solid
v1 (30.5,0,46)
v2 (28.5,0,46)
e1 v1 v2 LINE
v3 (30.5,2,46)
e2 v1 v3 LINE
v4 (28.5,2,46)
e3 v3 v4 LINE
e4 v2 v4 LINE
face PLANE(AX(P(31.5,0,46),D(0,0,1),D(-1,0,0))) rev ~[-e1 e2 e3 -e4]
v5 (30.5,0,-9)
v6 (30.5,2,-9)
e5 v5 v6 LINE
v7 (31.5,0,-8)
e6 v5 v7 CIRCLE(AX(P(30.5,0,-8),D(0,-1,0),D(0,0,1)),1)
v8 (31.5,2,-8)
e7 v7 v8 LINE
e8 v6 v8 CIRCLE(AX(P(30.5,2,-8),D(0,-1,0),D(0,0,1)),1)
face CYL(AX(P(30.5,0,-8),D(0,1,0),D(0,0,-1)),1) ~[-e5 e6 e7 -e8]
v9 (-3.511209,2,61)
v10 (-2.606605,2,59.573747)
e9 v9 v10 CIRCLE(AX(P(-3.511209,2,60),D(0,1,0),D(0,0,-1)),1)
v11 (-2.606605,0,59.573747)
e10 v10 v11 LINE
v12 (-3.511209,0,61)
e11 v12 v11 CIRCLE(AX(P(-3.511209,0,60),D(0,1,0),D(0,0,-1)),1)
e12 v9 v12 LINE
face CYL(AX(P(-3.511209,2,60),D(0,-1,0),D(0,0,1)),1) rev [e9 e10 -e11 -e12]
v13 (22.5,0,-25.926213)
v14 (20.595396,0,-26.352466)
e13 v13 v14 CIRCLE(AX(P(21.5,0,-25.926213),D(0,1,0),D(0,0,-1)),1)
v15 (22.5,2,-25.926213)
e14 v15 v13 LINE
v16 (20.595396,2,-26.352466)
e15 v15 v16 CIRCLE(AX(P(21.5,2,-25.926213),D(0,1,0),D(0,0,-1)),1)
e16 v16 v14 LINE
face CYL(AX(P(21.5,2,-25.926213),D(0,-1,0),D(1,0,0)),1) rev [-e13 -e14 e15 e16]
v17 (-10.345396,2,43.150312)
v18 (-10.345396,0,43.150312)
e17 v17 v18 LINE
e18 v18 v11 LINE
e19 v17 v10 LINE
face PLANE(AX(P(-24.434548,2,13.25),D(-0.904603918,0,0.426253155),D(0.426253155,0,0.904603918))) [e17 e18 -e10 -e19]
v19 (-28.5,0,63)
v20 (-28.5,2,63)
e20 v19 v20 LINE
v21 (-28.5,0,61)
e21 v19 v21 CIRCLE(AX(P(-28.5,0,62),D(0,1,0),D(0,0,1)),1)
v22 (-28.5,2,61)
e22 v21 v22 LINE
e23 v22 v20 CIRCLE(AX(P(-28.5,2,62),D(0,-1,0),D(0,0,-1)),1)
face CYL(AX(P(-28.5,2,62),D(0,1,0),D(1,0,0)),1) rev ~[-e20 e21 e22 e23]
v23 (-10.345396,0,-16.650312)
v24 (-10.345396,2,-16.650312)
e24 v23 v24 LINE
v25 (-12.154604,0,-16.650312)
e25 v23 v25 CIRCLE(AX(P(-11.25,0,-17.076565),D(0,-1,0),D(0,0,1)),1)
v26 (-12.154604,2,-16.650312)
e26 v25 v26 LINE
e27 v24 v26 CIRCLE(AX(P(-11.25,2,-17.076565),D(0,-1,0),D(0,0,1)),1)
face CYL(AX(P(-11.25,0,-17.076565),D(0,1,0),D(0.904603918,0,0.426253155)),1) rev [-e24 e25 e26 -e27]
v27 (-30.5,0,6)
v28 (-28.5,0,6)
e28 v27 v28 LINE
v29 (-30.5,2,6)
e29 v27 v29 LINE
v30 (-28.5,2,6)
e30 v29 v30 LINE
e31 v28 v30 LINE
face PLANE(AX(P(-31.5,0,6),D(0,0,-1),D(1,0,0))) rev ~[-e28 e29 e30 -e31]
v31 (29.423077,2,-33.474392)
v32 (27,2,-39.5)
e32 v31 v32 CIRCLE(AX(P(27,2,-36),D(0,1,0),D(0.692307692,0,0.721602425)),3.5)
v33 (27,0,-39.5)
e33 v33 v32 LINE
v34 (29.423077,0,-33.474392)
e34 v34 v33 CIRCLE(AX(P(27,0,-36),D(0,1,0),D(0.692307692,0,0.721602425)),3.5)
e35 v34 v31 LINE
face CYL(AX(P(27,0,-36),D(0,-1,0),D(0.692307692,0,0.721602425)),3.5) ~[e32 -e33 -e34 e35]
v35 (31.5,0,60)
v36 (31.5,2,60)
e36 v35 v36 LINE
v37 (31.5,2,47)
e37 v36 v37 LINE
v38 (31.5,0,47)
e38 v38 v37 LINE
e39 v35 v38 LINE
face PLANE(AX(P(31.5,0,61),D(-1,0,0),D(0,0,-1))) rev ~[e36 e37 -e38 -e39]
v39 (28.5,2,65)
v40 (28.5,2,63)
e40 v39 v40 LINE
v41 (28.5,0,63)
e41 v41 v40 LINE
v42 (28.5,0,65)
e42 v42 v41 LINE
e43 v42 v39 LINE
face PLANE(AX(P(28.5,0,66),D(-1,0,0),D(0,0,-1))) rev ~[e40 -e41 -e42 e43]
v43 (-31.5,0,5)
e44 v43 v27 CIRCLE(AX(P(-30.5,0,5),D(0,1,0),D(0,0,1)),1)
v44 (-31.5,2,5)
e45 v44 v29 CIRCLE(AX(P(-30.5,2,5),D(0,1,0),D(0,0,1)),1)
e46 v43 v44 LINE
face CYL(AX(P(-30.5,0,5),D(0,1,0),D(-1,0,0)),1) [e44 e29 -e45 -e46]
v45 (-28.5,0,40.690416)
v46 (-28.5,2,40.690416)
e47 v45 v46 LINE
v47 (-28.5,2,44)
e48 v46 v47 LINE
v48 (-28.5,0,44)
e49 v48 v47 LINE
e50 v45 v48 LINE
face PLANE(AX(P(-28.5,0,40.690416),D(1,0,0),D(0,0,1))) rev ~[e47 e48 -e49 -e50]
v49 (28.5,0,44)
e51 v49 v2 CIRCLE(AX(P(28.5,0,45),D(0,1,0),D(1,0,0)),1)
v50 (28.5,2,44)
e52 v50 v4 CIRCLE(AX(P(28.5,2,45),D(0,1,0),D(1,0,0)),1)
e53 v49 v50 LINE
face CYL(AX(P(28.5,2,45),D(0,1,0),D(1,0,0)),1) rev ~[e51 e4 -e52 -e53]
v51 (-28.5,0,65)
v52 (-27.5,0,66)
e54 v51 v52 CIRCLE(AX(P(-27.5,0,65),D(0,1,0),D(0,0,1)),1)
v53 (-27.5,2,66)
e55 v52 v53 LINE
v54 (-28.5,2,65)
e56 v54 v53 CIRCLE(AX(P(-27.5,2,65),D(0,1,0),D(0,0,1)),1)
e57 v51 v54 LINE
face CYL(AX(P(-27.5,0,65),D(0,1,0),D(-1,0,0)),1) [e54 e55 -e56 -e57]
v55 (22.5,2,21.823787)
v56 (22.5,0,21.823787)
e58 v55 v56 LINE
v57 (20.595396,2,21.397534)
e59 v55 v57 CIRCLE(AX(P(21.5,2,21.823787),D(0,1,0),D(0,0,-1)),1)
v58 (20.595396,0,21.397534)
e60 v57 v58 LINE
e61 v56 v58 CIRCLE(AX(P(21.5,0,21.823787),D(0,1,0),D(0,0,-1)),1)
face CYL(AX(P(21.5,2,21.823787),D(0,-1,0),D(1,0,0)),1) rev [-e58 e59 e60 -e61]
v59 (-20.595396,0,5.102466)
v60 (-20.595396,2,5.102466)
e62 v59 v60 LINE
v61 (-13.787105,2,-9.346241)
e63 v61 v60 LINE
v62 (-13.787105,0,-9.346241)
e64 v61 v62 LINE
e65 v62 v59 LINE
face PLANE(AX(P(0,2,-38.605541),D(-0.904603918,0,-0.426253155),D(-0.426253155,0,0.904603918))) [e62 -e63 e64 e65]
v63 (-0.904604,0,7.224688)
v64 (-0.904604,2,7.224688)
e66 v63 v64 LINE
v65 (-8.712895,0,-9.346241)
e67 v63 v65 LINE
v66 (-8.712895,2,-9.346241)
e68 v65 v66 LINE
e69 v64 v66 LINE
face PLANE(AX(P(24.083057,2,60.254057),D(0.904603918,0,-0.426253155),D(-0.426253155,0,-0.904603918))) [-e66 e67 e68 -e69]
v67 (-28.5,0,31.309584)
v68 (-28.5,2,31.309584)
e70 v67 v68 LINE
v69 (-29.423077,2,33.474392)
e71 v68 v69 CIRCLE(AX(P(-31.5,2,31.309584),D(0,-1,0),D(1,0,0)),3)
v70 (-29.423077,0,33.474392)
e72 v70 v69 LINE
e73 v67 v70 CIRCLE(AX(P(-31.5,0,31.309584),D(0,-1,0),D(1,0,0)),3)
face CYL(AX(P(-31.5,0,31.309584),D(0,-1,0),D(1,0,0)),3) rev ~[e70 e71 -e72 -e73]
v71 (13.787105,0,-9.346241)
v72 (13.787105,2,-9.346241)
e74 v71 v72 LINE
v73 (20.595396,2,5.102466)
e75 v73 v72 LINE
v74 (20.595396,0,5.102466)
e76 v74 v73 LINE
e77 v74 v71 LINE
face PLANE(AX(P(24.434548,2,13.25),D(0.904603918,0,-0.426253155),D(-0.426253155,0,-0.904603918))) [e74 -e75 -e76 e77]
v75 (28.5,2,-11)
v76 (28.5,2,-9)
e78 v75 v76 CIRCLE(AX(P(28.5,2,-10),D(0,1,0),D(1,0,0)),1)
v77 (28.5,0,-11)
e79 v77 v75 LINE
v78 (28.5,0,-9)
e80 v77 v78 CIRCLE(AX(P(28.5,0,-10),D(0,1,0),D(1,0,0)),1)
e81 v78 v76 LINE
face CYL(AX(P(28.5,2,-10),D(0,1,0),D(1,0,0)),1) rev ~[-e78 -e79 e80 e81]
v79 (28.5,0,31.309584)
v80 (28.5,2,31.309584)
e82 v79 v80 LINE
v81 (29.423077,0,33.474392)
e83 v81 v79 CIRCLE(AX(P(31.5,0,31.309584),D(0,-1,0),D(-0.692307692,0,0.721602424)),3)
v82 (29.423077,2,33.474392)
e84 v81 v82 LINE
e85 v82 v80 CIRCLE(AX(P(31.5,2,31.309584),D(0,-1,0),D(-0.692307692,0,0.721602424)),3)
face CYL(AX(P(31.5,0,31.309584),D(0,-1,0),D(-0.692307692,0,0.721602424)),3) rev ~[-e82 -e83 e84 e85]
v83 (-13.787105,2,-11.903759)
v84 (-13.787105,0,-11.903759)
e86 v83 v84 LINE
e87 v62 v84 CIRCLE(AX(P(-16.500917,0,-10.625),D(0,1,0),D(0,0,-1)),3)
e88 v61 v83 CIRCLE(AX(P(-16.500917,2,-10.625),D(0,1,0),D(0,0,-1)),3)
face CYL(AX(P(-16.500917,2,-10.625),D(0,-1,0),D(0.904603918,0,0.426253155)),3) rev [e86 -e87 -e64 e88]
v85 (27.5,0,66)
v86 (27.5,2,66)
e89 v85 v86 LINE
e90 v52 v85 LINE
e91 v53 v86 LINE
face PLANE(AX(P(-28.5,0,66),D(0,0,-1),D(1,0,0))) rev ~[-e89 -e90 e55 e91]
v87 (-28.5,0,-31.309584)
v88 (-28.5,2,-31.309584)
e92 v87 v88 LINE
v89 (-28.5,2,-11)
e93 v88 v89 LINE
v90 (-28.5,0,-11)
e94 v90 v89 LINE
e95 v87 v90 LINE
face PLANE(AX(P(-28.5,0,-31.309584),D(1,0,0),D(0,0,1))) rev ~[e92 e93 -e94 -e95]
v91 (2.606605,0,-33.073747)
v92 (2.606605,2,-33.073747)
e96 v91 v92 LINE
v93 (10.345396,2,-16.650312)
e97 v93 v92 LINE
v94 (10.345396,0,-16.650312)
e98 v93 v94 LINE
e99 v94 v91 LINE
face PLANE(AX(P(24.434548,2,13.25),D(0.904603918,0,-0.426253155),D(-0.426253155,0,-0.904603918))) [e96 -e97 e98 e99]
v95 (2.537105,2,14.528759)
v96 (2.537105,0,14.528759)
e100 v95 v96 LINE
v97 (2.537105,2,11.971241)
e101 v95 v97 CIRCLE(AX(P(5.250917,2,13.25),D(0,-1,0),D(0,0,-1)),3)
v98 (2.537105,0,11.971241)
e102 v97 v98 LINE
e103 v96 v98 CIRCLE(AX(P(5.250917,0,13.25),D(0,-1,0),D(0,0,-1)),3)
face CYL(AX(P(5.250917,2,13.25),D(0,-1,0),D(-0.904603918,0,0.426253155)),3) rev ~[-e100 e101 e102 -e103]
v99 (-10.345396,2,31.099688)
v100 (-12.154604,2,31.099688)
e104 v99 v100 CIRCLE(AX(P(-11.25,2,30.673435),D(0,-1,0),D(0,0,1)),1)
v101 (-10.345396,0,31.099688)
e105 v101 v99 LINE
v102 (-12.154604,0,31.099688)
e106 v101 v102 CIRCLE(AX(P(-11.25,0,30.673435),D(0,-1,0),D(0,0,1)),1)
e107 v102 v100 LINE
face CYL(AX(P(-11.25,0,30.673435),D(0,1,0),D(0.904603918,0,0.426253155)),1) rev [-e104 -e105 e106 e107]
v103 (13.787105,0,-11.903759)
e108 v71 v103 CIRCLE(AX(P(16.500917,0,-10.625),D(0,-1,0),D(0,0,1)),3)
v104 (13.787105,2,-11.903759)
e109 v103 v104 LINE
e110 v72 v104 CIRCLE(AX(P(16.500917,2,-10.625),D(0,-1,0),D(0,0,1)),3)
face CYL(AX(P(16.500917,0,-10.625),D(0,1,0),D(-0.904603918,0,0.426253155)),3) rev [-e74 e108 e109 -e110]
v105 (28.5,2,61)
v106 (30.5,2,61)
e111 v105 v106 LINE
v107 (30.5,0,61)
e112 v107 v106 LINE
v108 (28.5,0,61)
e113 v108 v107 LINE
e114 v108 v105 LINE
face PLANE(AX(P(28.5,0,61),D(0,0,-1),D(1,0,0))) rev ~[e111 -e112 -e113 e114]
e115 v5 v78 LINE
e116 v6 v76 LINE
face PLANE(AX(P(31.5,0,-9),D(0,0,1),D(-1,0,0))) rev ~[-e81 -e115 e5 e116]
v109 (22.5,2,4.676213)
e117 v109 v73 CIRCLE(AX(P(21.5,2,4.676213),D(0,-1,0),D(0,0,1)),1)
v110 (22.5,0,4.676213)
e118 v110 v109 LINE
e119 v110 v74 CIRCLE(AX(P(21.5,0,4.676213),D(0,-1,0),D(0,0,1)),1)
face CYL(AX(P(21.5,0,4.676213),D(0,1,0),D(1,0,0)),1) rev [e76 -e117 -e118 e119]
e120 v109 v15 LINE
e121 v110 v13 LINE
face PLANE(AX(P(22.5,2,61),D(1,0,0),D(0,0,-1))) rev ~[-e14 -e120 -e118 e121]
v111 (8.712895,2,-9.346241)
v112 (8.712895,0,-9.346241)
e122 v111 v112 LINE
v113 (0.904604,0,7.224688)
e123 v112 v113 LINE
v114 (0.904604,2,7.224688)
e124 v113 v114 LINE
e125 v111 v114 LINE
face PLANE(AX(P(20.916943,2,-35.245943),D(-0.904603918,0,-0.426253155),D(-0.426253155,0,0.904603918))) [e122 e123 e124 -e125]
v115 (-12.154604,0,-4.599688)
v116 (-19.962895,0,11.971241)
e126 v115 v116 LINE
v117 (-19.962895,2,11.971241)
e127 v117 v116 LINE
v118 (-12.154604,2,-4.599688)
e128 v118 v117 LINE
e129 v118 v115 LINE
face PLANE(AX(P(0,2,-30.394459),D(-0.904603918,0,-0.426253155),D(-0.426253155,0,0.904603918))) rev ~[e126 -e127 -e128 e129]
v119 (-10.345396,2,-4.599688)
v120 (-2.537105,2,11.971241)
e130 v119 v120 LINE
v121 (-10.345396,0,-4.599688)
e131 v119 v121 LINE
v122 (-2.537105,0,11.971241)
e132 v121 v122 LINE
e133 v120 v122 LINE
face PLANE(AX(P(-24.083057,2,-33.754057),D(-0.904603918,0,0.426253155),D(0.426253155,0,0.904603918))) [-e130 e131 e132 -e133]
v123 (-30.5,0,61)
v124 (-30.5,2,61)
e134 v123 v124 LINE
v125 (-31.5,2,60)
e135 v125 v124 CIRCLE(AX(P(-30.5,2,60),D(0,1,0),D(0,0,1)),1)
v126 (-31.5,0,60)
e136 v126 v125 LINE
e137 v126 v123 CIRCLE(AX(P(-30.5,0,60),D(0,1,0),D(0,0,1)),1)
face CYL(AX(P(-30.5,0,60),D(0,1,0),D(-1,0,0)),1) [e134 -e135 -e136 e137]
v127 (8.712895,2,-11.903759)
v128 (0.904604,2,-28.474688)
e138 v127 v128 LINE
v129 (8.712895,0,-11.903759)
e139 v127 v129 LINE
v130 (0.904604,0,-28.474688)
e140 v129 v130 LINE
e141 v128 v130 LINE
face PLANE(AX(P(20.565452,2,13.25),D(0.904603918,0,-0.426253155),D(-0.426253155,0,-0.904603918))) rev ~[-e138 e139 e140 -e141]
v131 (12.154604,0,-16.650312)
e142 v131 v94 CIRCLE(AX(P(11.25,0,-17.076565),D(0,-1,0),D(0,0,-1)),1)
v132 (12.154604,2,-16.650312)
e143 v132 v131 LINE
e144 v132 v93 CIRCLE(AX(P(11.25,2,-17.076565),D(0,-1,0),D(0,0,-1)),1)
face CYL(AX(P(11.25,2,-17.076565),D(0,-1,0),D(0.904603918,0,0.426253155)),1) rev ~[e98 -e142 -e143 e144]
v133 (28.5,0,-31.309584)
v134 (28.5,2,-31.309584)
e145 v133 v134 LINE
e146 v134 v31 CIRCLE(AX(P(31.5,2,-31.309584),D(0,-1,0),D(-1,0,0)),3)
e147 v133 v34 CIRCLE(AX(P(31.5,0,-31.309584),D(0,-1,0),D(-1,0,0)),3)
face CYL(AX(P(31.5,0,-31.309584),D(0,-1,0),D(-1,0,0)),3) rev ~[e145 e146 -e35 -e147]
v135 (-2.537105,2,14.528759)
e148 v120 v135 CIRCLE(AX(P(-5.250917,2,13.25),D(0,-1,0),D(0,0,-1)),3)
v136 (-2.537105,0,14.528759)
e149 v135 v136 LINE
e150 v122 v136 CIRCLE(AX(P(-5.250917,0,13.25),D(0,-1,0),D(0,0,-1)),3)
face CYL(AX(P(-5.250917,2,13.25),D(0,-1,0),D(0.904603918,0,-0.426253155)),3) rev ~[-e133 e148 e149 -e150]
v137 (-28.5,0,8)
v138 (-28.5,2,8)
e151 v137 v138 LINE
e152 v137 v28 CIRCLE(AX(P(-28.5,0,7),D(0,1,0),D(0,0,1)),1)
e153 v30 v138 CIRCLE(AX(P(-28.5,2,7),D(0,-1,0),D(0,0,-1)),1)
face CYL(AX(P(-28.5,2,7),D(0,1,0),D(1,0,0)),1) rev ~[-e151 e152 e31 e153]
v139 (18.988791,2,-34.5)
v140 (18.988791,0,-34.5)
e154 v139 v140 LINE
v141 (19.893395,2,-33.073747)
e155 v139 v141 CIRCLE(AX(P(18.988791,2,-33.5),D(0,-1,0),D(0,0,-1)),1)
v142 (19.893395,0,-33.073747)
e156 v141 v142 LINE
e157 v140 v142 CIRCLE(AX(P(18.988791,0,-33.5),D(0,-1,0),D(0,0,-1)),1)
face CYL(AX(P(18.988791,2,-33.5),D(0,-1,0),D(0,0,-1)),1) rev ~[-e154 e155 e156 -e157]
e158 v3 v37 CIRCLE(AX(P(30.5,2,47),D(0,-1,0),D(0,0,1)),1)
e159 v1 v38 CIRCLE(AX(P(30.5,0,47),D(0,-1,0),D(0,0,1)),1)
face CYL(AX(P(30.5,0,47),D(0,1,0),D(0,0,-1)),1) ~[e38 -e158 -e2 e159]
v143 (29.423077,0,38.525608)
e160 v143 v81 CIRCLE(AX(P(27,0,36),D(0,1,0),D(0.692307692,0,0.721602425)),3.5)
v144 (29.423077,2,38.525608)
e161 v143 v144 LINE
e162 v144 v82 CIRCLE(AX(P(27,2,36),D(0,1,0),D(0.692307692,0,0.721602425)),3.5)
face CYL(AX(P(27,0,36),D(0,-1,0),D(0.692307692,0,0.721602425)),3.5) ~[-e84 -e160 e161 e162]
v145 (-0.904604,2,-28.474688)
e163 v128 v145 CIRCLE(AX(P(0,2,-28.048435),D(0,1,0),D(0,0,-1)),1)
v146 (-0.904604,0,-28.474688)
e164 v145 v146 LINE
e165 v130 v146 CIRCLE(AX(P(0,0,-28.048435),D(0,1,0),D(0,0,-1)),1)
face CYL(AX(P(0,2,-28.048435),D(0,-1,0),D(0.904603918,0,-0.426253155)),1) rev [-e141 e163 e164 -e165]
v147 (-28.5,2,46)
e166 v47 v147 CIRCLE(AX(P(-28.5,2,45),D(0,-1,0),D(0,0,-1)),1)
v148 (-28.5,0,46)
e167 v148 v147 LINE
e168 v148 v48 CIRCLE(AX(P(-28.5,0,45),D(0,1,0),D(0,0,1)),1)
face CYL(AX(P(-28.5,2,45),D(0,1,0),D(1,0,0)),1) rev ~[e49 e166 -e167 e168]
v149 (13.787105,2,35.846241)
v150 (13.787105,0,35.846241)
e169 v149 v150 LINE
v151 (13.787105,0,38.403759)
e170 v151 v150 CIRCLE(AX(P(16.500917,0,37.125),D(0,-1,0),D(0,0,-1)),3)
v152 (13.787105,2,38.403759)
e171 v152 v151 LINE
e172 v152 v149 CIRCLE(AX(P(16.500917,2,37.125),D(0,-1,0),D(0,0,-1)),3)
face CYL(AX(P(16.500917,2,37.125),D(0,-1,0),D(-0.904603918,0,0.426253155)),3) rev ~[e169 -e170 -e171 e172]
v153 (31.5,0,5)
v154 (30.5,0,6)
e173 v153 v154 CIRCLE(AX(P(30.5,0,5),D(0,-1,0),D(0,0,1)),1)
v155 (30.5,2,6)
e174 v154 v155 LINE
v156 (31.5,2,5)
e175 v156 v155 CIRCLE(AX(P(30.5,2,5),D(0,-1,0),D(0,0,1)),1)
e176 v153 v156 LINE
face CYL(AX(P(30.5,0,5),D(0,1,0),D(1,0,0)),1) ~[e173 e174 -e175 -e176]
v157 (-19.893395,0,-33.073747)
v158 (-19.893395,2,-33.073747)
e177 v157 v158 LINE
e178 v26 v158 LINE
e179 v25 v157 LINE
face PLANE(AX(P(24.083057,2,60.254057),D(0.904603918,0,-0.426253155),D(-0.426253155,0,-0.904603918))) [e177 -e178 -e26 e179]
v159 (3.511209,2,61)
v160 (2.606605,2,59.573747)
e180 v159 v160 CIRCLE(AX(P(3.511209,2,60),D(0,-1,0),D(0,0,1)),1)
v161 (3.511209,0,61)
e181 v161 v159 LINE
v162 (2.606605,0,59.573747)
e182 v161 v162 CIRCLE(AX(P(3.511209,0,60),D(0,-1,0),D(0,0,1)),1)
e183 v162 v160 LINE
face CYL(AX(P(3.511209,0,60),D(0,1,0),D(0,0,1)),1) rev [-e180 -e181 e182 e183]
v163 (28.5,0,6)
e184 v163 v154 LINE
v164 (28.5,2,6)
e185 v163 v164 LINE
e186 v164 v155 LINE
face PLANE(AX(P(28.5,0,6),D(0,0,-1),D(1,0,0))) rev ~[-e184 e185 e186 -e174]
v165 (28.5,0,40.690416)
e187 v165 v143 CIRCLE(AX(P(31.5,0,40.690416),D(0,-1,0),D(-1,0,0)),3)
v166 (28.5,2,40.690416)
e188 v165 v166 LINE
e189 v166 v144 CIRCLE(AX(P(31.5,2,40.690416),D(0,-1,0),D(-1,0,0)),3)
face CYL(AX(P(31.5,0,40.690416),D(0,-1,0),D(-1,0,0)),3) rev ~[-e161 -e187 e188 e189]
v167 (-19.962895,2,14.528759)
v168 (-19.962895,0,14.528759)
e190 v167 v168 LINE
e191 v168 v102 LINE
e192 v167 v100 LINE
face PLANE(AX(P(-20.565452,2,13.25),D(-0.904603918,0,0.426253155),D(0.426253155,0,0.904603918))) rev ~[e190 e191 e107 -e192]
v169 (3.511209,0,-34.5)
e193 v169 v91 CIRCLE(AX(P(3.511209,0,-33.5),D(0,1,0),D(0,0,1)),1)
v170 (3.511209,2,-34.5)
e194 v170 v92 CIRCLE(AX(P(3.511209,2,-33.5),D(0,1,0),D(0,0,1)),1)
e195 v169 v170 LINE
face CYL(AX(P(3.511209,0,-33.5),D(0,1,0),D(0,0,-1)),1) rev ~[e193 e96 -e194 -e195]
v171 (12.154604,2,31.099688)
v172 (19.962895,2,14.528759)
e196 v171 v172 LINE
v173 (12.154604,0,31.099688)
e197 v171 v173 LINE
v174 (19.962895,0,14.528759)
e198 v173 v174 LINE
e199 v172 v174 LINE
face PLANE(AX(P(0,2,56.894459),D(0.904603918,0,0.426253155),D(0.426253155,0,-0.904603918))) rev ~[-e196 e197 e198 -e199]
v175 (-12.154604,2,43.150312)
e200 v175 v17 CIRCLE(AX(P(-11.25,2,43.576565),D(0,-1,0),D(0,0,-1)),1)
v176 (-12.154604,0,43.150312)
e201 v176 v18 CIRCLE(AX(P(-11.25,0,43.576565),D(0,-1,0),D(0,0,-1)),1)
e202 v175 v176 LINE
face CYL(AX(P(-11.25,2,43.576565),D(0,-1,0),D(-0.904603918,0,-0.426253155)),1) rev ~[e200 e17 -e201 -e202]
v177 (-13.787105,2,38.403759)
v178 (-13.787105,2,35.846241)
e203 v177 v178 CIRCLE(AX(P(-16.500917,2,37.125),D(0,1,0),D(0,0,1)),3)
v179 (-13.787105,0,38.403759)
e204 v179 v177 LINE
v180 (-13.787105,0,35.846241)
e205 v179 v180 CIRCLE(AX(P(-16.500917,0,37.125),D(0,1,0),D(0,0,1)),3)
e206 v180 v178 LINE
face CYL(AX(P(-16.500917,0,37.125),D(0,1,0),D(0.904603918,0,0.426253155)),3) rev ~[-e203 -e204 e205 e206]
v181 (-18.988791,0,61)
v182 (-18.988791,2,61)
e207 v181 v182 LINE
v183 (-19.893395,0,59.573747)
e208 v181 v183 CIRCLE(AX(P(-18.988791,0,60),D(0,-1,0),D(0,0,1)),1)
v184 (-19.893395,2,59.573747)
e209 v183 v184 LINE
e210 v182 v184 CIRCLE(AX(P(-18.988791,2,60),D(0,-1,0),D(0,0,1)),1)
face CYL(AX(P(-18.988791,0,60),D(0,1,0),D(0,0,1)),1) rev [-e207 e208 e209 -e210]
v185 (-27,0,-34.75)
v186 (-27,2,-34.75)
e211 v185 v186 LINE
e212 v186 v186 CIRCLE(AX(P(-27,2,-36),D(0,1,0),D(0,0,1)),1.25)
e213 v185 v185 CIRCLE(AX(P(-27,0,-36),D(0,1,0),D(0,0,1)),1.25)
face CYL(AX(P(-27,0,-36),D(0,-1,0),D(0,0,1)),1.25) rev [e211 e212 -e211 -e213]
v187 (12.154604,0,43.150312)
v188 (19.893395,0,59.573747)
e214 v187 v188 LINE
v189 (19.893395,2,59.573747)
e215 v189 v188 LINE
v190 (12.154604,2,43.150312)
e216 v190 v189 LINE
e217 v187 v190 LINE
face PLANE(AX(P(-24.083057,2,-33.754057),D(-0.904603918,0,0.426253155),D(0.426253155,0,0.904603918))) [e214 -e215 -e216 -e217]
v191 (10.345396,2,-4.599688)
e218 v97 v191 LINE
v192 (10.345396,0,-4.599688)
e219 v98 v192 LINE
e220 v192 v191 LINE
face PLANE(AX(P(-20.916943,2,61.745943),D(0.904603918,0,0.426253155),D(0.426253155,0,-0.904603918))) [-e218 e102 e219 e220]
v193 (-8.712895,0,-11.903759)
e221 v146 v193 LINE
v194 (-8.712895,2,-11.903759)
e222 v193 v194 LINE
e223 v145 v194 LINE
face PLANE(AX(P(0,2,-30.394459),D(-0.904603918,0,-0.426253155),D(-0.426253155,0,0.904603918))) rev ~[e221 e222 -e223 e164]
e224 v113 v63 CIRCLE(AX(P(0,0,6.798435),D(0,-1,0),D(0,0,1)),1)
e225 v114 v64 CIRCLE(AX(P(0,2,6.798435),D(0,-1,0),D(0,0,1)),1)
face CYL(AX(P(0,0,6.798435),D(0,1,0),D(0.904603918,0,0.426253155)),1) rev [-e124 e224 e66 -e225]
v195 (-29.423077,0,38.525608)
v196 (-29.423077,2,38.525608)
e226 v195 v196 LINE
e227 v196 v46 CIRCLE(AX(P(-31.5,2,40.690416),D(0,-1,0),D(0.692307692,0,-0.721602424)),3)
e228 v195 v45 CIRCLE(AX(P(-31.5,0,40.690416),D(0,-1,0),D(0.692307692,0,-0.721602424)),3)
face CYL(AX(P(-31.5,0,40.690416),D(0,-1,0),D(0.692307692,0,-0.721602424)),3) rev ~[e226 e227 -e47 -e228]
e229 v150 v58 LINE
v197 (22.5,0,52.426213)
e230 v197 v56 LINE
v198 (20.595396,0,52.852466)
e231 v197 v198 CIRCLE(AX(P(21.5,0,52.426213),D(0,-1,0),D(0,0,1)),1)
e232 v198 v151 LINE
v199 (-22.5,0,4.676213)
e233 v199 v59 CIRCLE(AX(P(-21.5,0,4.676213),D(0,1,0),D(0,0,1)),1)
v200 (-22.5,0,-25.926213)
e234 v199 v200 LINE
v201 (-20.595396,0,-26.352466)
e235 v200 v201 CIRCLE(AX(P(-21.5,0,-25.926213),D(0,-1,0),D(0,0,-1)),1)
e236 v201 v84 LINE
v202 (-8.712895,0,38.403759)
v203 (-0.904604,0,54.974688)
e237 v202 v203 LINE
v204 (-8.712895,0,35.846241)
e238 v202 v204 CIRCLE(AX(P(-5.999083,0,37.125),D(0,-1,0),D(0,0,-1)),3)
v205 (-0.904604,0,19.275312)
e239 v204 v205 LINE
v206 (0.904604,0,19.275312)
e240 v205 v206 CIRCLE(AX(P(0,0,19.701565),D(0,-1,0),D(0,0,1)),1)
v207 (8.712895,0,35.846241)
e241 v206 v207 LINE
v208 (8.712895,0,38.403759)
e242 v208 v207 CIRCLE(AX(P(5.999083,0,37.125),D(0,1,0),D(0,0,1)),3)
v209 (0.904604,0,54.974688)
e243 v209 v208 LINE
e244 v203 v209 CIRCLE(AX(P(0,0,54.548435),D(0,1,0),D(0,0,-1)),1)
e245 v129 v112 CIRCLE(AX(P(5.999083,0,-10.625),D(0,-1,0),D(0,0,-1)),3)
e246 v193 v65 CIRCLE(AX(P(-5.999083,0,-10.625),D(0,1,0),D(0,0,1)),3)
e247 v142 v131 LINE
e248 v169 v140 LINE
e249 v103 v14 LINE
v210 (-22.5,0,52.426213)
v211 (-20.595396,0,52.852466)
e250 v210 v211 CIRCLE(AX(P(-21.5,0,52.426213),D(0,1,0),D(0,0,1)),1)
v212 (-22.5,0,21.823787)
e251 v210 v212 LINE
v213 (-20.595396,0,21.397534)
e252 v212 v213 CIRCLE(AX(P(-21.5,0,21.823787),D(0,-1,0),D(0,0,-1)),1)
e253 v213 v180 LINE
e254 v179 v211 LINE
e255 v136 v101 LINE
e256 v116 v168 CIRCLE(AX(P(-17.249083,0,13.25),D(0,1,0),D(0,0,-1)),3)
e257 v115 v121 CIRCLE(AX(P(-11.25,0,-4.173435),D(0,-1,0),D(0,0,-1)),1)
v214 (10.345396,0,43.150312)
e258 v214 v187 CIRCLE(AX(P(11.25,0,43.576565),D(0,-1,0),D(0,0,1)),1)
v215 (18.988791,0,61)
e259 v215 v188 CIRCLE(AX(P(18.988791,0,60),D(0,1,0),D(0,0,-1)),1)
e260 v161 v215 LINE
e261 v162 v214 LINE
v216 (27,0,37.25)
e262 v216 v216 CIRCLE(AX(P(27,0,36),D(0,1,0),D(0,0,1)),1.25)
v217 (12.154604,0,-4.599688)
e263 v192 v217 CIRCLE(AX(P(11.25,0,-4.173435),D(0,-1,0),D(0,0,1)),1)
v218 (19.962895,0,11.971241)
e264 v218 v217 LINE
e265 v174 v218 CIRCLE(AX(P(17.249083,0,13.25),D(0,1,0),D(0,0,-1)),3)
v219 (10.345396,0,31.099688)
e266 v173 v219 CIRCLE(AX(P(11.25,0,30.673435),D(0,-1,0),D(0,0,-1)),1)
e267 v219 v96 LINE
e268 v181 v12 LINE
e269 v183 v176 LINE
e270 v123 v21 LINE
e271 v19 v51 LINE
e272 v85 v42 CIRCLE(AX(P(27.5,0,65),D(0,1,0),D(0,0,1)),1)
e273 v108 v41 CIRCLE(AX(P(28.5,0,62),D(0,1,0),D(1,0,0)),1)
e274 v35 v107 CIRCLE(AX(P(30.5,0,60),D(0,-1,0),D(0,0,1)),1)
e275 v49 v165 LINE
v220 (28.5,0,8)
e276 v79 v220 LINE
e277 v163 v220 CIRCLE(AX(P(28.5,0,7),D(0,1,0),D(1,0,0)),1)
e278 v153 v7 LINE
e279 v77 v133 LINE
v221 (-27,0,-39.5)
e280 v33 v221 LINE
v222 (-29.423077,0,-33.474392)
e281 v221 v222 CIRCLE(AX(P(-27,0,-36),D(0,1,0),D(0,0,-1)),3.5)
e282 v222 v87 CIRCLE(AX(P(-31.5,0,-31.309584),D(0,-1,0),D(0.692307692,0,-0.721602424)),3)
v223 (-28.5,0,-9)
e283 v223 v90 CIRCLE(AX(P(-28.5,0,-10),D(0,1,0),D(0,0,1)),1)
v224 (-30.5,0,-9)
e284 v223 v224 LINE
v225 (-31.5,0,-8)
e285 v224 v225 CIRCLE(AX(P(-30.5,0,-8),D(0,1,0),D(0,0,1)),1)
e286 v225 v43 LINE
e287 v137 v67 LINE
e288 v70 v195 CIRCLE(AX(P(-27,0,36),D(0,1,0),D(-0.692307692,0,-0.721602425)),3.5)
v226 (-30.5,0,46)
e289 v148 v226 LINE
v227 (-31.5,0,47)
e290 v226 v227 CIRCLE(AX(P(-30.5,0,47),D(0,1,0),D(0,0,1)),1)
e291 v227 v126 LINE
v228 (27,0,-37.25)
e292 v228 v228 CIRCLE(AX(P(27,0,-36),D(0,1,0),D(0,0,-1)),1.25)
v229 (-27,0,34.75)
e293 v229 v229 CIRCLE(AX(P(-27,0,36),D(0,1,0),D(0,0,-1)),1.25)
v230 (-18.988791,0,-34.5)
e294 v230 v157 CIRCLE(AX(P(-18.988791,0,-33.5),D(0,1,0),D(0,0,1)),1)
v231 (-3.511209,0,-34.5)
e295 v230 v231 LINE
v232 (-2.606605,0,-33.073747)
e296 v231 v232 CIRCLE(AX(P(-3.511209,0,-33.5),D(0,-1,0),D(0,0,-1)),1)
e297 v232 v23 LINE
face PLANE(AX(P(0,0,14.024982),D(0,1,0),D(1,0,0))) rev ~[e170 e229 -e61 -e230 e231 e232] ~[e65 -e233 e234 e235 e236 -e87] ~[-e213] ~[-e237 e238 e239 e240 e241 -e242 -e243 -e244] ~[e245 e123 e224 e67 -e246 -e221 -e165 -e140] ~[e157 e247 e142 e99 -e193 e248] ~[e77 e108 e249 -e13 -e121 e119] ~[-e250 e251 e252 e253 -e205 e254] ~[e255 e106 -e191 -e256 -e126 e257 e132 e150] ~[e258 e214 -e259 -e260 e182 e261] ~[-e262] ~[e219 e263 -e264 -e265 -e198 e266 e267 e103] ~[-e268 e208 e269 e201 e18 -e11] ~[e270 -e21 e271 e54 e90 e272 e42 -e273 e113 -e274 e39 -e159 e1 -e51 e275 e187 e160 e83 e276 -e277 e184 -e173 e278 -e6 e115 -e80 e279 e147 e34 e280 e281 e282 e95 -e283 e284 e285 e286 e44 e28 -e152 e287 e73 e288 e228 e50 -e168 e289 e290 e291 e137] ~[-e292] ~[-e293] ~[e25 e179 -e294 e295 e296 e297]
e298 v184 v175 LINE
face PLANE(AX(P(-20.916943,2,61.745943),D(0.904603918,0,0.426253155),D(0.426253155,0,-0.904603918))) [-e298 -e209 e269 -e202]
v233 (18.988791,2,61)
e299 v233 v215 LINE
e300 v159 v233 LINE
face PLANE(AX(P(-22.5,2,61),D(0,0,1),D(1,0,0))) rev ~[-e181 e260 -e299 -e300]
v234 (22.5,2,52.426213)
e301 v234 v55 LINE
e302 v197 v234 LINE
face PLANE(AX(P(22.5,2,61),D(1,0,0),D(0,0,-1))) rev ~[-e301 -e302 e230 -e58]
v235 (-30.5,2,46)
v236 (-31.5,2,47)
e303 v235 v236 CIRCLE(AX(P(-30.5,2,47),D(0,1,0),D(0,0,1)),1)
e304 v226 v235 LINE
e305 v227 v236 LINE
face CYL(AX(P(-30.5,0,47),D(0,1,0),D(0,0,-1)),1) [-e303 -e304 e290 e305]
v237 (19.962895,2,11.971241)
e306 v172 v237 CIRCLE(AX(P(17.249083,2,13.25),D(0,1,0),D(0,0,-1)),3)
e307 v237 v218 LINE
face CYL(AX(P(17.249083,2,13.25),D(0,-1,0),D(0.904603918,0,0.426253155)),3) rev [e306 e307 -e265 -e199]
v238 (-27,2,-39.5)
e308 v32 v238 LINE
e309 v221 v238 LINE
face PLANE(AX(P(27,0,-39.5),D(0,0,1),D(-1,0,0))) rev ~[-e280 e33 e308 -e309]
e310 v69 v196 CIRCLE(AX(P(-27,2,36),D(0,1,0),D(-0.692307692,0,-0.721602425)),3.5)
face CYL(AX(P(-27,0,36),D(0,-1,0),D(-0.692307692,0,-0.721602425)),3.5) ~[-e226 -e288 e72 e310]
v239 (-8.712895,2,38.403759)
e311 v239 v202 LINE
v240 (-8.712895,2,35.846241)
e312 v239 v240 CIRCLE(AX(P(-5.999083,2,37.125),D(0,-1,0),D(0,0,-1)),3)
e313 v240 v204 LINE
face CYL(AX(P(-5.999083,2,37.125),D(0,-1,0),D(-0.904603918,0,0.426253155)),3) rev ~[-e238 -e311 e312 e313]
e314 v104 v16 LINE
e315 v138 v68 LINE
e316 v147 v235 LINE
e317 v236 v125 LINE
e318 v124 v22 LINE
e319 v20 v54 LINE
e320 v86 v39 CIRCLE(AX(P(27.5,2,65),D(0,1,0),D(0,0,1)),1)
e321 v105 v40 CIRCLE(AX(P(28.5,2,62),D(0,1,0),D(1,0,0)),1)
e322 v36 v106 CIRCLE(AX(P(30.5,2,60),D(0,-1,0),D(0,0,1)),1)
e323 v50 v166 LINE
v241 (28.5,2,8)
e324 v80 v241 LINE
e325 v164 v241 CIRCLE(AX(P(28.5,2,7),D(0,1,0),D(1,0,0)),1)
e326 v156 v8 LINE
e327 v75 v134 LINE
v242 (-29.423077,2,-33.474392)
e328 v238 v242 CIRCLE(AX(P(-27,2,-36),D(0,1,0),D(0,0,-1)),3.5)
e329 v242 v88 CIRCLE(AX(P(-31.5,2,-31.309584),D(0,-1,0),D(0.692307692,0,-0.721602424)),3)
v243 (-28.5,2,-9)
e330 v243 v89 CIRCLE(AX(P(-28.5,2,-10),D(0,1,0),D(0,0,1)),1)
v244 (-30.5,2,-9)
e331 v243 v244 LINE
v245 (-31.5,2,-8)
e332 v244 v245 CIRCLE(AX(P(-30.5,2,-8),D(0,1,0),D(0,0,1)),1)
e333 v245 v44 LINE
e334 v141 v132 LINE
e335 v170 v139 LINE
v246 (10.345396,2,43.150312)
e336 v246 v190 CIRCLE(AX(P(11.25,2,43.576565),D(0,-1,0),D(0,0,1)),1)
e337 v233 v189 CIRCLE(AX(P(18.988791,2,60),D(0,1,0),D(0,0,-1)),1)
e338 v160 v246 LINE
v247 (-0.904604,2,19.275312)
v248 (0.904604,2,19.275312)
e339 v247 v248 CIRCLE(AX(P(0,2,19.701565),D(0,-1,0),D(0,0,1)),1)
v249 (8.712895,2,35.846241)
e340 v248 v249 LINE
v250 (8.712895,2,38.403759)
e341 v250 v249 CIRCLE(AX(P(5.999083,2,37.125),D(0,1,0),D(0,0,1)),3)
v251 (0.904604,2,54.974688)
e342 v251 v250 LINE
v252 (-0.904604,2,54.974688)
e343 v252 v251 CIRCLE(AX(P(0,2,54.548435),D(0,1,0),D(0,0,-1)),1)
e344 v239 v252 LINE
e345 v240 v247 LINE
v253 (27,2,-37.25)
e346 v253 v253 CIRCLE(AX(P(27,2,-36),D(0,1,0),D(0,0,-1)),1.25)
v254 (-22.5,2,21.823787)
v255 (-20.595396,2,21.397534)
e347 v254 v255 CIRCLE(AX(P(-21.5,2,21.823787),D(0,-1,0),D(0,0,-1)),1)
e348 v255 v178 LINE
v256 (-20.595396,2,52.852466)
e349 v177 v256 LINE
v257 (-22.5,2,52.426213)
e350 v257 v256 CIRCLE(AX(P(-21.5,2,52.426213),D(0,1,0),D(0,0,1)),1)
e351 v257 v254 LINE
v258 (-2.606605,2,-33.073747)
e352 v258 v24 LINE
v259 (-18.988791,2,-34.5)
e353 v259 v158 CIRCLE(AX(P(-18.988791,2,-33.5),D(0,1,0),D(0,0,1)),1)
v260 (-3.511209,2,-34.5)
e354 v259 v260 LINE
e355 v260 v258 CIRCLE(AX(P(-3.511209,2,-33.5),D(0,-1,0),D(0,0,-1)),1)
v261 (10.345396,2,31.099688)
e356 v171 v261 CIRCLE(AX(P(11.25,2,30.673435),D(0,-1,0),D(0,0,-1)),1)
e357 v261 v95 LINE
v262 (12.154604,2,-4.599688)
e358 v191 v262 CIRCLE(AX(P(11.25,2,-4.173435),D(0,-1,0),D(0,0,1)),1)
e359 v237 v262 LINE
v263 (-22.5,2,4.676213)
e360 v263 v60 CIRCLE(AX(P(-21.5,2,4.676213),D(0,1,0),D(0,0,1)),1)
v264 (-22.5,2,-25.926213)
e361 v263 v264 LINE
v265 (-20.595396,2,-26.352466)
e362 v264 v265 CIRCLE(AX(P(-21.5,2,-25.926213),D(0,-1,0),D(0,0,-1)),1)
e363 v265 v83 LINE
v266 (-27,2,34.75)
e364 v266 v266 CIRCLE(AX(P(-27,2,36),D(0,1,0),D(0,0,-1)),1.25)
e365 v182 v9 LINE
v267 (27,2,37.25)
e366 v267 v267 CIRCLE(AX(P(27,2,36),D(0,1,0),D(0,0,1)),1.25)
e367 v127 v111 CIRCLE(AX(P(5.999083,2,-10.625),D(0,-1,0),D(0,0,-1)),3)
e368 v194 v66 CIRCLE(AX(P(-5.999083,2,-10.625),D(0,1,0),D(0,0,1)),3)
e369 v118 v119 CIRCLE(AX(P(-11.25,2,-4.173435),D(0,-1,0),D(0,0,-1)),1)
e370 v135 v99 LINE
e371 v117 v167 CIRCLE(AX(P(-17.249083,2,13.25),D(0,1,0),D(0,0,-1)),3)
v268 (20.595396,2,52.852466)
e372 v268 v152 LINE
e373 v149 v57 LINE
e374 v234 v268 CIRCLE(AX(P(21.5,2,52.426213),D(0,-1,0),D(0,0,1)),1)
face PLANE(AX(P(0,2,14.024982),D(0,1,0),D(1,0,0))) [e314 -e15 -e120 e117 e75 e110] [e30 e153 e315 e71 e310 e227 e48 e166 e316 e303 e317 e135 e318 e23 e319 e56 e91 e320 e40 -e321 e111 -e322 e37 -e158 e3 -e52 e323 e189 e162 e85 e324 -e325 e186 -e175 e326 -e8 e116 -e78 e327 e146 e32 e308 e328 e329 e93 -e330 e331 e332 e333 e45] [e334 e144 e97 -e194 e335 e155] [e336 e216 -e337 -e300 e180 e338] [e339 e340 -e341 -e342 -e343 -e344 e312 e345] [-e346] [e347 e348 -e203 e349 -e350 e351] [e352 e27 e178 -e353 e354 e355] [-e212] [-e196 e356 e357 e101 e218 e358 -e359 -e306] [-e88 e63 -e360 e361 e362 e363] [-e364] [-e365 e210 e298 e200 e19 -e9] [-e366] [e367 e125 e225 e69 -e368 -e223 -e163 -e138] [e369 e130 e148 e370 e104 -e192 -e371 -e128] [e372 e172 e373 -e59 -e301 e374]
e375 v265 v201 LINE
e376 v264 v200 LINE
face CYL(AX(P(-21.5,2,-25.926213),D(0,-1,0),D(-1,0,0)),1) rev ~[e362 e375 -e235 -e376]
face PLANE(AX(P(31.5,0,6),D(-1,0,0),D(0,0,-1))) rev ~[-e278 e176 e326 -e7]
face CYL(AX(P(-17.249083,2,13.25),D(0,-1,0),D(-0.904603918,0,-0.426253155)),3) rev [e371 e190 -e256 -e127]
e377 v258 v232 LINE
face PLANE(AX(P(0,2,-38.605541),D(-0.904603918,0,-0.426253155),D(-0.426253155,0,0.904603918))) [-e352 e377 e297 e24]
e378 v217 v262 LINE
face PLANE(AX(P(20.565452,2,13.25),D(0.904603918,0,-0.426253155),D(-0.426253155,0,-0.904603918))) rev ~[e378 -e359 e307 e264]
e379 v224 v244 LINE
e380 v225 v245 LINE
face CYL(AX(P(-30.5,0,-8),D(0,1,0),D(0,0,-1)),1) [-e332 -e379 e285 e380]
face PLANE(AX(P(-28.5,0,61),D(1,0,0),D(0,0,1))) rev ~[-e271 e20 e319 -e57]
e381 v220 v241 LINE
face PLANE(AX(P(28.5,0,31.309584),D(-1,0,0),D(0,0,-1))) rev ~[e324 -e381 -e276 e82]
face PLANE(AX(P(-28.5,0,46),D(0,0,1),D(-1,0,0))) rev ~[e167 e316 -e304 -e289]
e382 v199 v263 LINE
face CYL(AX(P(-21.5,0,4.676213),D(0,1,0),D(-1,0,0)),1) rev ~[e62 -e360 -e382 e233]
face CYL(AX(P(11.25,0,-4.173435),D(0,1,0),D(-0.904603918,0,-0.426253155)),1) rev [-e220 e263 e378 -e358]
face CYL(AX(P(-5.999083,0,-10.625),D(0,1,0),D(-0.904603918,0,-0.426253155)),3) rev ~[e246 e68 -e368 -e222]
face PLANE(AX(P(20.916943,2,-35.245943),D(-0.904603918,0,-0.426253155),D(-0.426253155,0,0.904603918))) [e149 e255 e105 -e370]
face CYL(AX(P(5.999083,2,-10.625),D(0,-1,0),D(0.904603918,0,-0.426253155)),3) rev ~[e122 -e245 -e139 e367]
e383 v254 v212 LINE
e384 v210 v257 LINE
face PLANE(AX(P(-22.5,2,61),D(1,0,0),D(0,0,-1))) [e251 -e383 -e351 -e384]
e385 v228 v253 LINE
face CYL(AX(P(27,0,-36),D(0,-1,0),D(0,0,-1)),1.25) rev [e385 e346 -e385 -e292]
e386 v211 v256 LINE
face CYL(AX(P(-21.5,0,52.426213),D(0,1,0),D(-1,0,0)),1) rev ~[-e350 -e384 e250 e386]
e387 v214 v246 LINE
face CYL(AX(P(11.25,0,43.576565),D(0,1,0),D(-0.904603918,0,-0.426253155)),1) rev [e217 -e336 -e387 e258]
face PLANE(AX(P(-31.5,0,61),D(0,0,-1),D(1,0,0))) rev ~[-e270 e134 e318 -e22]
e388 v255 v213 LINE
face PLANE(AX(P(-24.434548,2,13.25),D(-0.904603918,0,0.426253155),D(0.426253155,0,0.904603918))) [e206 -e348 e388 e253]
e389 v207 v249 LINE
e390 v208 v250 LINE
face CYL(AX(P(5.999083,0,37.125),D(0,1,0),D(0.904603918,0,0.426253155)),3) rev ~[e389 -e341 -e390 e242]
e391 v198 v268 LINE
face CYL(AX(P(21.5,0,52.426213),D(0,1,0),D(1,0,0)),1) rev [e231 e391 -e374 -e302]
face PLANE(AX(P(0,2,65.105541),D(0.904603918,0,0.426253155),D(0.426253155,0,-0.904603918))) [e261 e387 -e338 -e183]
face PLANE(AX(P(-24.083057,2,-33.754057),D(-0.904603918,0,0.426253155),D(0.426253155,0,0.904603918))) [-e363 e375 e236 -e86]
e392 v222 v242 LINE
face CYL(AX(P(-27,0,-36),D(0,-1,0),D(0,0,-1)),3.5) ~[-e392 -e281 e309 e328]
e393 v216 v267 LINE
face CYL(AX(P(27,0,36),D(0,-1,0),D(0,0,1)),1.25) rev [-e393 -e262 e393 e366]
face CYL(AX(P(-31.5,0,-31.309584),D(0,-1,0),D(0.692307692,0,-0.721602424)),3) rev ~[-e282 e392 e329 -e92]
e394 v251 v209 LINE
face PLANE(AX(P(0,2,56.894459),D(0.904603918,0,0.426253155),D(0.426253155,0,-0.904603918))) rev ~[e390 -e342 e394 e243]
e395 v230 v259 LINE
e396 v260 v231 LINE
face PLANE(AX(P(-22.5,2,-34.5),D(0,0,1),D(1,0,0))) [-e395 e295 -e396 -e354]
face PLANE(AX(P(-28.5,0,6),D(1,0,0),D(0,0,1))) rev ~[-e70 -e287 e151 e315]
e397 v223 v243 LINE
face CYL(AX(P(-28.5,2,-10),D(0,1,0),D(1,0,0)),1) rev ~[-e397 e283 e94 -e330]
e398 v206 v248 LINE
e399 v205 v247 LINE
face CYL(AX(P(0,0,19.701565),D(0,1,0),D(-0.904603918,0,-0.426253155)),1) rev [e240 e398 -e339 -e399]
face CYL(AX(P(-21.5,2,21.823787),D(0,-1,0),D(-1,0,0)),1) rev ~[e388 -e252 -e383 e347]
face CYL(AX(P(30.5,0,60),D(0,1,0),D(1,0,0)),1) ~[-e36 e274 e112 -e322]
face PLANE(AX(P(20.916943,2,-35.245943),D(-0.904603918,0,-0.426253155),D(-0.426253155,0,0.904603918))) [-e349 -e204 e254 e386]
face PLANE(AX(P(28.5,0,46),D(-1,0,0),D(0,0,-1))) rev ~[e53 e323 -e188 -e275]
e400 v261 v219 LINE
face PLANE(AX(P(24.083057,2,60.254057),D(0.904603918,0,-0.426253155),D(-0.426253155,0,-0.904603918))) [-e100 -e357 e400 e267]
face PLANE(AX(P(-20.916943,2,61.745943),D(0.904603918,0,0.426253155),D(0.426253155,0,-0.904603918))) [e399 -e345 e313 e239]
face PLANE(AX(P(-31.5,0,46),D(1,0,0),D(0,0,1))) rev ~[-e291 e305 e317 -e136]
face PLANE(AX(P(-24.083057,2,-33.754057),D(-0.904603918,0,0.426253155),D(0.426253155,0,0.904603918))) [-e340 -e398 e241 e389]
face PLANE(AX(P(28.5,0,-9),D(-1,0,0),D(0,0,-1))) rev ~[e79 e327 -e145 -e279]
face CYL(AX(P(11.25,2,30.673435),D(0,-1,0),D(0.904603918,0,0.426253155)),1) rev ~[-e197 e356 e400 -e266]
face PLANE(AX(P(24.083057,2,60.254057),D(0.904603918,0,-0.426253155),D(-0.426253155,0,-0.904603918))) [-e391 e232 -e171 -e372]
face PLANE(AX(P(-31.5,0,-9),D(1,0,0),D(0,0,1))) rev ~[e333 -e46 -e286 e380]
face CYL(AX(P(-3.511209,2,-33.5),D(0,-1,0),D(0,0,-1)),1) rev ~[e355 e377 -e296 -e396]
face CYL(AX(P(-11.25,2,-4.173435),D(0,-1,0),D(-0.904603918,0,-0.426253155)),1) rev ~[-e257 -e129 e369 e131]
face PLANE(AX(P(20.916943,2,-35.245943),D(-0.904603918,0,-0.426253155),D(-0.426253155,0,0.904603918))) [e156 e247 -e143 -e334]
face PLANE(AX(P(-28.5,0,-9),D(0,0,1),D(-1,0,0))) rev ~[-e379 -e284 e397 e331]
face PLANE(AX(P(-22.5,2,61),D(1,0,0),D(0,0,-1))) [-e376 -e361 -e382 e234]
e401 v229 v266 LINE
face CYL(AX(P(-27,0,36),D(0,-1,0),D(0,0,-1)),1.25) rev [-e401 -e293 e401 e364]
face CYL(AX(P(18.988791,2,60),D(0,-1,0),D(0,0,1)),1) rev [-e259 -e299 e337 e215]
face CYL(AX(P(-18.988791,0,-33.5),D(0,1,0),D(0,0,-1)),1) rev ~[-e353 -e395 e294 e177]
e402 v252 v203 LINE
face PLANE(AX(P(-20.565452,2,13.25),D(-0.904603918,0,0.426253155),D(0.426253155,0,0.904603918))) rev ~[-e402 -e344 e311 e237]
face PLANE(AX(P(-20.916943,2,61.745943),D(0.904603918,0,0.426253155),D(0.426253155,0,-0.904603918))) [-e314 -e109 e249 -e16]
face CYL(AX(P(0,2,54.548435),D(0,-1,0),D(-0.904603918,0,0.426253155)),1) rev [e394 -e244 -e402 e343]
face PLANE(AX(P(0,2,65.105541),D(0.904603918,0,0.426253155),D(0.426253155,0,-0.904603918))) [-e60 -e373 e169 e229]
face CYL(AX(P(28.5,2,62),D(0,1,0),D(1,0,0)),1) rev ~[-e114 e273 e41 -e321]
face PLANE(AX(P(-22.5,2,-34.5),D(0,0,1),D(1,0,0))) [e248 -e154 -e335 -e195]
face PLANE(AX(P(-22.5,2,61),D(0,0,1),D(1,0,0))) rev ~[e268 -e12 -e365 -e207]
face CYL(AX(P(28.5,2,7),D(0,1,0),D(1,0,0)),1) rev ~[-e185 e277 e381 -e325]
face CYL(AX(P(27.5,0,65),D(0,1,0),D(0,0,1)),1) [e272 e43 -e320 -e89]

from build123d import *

# Parameters (mm, degrees)
SKETCH_1_R          = 1.25
EXTRUDE_1_DEPTH     = 2
SKETCH_2_R          = 1
SKETCH_2_W          = 45
SKETCH_2_H          = 95.5
CUT_EXTRUDE_1_DEPTH = 74.159073258
EXTRUDE_1_2_DEPTH   = 2
FILLET_1_R          = 1
FILLET_2_R          = 1
FILLET_3_R          = 3


with BuildPart() as part:
    # 草图1 → Extrude 1 (new body)
    with BuildSketch(Plane(origin=(0, 0, 0), x_dir=(1, 0, 0), z_dir=(0, 1, 0))):
        with BuildLine():
            Line((-28.5, 31.30958424), (-28.5, 9))
            Line((-28.5, 9), (-31.5, 9))
            Line((-31.5, 9), (-31.5, -6))
            Line((-31.5, -6), (-28.5, -6))
            Line((-28.5, -6), (-28.5, -31.30958424))
            ThreePointArc((-28.5, -31.30958424), (-28.740401367, -32.486281051), (-29.423076923, -33.474391514))
            ThreePointArc((-29.423076923, -33.474391514), (-30.5, -36), (-29.423076923, -38.525608486))
            ThreePointArc((-29.423076923, -38.525608486), (-28.740401367, -39.513718949), (-28.5, -40.69041576))
            Line((-28.5, -40.69041576), (-28.5, -46))
            Line((-28.5, -46), (-31.5, -46))
            Line((-31.5, -46), (-31.5, -61))
            Line((-31.5, -61), (-28.5, -61))
            Line((-28.5, -61), (-28.5, -66))
            Line((-28.5, -66), (28.5, -66))
            Line((28.5, -66), (28.5, -61))
            Line((28.5, -61), (31.5, -61))
            Line((31.5, -61), (31.5, -46))
            Line((31.5, -46), (28.5, -46))
            Line((28.5, -46), (28.5, -40.69041576))
            ThreePointArc((28.5, -40.69041576), (28.740401367, -39.513718949), (29.423076923, -38.525608486))
            ThreePointArc((29.423076923, -38.525608486), (30.5, -36), (29.423076923, -33.474391514))
            ThreePointArc((29.423076923, -33.474391514), (28.740401367, -32.486281051), (28.5, -31.30958424))
            Line((28.5, -31.30958424), (28.5, -6))
            Line((28.5, -6), (31.5, -6))
            Line((31.5, -6), (31.5, 9))
            Line((31.5, 9), (28.5, 9))
            Line((28.5, 9), (28.5, 31.30958424))
            ThreePointArc((28.5, 31.30958424), (28.740401367, 32.486281051), (29.423076923, 33.474391514))
            ThreePointArc((29.423076923, 33.474391514), (30.247278068, 37.305827381), (27, 39.5))
            Line((27, 39.5), (-27, 39.5))
            ThreePointArc((-27, 39.5), (-30.247278068, 37.305827381), (-29.423076923, 33.474391514))
            ThreePointArc((-29.423076923, 33.474391514), (-28.740401367, 32.486281051), (-28.5, 31.30958424))
        make_face()
        with Locations(Location((-27, 36, 0), (0, 0, 270))):
            Circle(SKETCH_1_R, mode=Mode.SUBTRACT)
        with Locations(Location((-27, -36, 0), (0, 0, 90))):
            Circle(SKETCH_1_R, mode=Mode.SUBTRACT)
        with Locations(Location((27, 36, 0), (0, 0, 90))):
            Circle(SKETCH_1_R, mode=Mode.SUBTRACT)
        with Locations(Location((27, -36, 0), (0, 0, 270))):
            Circle(SKETCH_1_R, mode=Mode.SUBTRACT)
    extrude(amount=EXTRUDE_1_DEPTH)

    # 草图2 → 切除-拉伸1 (cut, through all)
    with BuildSketch(Plane(origin=(0, 2, 0), x_dir=(1, 0, 0), z_dir=(0, 1, 0))):
        with Locations((-28.5, -45)):
            Circle(SKETCH_2_R)
        with Locations((-28.5, -62)):
            Circle(SKETCH_2_R)
        with Locations((28.5, -62)):
            Circle(SKETCH_2_R)
        with Locations((28.5, -45)):
            Circle(SKETCH_2_R)
        with Locations((-28.5, 10)):
            Circle(SKETCH_2_R)
        with Locations((-28.5, -7)):
            Circle(SKETCH_2_R)
        with Locations((28.5, -7)):
            Circle(SKETCH_2_R)
        with Locations((28.5, 10)):
            Circle(SKETCH_2_R)
        with Locations((0, -13.25)):
            Rectangle(SKETCH_2_W, SKETCH_2_H)
    extrude(amount=-CUT_EXTRUDE_1_DEPTH, mode=Mode.SUBTRACT)

    # 草图3 → Extrude 1 2 (add)
    # profile 1 of 3: a face of its own
    with BuildSketch(Plane(origin=(0, 2, 0), x_dir=(1, 0, 0), z_dir=(0, 1, 0))):
        Polygon((-24.083056856, 33.754056979), (20.916943144, -61.745943021), (24.083056856, -60.254056979), (-20.916943144, 35.245943021), align=None)
    # profile 2 of 3: a face of its own
    with BuildSketch(Plane(origin=(0, 2, 0), x_dir=(1, 0, 0), z_dir=(0, 1, 0))):
        Polygon((-20.916943144, -61.745943021), (24.083056856, 33.754056979), (20.916943144, 35.245943021), (-24.083056856, -60.254056979), align=None)
    # profile 3 of 3: a face of its own
    with BuildSketch(Plane(origin=(0, 2, 0), x_dir=(1, 0, 0), z_dir=(0, 1, 0))):
        Polygon((0, 38.60554146), (-24.434548332, -13.25), (0, -65.10554146), (24.434548332, -13.25), align=None)
        Polygon((0, 30.39445854), (-20.565451668, -13.25), (0, -56.89445854), (20.565451668, -13.25), align=None, mode=Mode.SUBTRACT)
    extrude(amount=-EXTRUDE_1_2_DEPTH)

    # 圆角1
    fillet_1_edges = [part.edges().sort_by_distance(p)[0] for p in [
        (31.5, 1, -9),
        (31.5, 1, 6),
        (31.5, 1, 46),
        (31.5, 1, 61),
        (28.5, 1, 66),
        (-28.5, 1, 66),
        (-31.5, 1, 61),
        (-31.5, 1, 46),
        (-31.5, 1, 6),
        (-31.5, 1, -9),
    ]]
    fillet(fillet_1_edges, radius=FILLET_1_R)

    # 圆角2
    fillet_2_edges = [part.edges().sort_by_distance(p)[0] for p in [
        (-1.934548332, 1, 61),
        (1.934548332, 1, 61),
        (-20.565451668, 1, 61),
        (20.565451668, 1, 61),
        (22.5, 1, 17.35554146),
        (22.5, 1, 9.14445854),
        (22.5, 1, -30.39445854),
        (22.5, 1, 56.89445854),
        (-1.934548332, 1, -34.5),
        (1.934548332, 1, -34.5),
        (20.565451668, 1, -34.5),
        (-20.565451668, 1, -34.5),
        (-22.5, 1, 17.35554146),
        (-22.5, 1, 9.14445854),
        (-22.5, 1, 56.89445854),
        (-22.5, 1, -30.39445854),
        (-11.25, 1, -14.73054146),
        (11.25, 1, -14.73054146),
        (11.25, 1, 41.23054146),
        (-11.25, 1, 41.23054146),
        (-11.25, 1, -6.51945854),
        (0, 1, -30.39445854),
        (11.25, 1, 33.01945854),
        (0, 1, 9.14445854),
        (11.25, 1, -6.51945854),
        (0, 1, 17.35554146),
        (-11.25, 1, 33.01945854),
        (0, 1, 56.89445854),
    ]]
    fillet(fillet_2_edges, radius=FILLET_2_R)

    # 圆角3
    fillet_3_edges = [part.edges().sort_by_distance(p)[0] for p in [
        (-13.184548332, 1, 37.125),
        (-13.184548332, 1, -10.625),
        (13.184548332, 1, 37.125),
        (13.184548332, 1, -10.625),
        (-1.934548332, 1, 13.25),
        (9.315451668, 1, 37.125),
        (1.934548332, 1, 13.25),
        (9.315451668, 1, -10.625),
        (20.565451668, 1, 13.25),
        (-9.315451668, 1, -10.625),
        (-9.315451668, 1, 37.125),
        (-20.565451668, 1, 13.25),
    ]]
    fillet(fillet_3_edges, radius=FILLET_3_R)


solid = part.part
